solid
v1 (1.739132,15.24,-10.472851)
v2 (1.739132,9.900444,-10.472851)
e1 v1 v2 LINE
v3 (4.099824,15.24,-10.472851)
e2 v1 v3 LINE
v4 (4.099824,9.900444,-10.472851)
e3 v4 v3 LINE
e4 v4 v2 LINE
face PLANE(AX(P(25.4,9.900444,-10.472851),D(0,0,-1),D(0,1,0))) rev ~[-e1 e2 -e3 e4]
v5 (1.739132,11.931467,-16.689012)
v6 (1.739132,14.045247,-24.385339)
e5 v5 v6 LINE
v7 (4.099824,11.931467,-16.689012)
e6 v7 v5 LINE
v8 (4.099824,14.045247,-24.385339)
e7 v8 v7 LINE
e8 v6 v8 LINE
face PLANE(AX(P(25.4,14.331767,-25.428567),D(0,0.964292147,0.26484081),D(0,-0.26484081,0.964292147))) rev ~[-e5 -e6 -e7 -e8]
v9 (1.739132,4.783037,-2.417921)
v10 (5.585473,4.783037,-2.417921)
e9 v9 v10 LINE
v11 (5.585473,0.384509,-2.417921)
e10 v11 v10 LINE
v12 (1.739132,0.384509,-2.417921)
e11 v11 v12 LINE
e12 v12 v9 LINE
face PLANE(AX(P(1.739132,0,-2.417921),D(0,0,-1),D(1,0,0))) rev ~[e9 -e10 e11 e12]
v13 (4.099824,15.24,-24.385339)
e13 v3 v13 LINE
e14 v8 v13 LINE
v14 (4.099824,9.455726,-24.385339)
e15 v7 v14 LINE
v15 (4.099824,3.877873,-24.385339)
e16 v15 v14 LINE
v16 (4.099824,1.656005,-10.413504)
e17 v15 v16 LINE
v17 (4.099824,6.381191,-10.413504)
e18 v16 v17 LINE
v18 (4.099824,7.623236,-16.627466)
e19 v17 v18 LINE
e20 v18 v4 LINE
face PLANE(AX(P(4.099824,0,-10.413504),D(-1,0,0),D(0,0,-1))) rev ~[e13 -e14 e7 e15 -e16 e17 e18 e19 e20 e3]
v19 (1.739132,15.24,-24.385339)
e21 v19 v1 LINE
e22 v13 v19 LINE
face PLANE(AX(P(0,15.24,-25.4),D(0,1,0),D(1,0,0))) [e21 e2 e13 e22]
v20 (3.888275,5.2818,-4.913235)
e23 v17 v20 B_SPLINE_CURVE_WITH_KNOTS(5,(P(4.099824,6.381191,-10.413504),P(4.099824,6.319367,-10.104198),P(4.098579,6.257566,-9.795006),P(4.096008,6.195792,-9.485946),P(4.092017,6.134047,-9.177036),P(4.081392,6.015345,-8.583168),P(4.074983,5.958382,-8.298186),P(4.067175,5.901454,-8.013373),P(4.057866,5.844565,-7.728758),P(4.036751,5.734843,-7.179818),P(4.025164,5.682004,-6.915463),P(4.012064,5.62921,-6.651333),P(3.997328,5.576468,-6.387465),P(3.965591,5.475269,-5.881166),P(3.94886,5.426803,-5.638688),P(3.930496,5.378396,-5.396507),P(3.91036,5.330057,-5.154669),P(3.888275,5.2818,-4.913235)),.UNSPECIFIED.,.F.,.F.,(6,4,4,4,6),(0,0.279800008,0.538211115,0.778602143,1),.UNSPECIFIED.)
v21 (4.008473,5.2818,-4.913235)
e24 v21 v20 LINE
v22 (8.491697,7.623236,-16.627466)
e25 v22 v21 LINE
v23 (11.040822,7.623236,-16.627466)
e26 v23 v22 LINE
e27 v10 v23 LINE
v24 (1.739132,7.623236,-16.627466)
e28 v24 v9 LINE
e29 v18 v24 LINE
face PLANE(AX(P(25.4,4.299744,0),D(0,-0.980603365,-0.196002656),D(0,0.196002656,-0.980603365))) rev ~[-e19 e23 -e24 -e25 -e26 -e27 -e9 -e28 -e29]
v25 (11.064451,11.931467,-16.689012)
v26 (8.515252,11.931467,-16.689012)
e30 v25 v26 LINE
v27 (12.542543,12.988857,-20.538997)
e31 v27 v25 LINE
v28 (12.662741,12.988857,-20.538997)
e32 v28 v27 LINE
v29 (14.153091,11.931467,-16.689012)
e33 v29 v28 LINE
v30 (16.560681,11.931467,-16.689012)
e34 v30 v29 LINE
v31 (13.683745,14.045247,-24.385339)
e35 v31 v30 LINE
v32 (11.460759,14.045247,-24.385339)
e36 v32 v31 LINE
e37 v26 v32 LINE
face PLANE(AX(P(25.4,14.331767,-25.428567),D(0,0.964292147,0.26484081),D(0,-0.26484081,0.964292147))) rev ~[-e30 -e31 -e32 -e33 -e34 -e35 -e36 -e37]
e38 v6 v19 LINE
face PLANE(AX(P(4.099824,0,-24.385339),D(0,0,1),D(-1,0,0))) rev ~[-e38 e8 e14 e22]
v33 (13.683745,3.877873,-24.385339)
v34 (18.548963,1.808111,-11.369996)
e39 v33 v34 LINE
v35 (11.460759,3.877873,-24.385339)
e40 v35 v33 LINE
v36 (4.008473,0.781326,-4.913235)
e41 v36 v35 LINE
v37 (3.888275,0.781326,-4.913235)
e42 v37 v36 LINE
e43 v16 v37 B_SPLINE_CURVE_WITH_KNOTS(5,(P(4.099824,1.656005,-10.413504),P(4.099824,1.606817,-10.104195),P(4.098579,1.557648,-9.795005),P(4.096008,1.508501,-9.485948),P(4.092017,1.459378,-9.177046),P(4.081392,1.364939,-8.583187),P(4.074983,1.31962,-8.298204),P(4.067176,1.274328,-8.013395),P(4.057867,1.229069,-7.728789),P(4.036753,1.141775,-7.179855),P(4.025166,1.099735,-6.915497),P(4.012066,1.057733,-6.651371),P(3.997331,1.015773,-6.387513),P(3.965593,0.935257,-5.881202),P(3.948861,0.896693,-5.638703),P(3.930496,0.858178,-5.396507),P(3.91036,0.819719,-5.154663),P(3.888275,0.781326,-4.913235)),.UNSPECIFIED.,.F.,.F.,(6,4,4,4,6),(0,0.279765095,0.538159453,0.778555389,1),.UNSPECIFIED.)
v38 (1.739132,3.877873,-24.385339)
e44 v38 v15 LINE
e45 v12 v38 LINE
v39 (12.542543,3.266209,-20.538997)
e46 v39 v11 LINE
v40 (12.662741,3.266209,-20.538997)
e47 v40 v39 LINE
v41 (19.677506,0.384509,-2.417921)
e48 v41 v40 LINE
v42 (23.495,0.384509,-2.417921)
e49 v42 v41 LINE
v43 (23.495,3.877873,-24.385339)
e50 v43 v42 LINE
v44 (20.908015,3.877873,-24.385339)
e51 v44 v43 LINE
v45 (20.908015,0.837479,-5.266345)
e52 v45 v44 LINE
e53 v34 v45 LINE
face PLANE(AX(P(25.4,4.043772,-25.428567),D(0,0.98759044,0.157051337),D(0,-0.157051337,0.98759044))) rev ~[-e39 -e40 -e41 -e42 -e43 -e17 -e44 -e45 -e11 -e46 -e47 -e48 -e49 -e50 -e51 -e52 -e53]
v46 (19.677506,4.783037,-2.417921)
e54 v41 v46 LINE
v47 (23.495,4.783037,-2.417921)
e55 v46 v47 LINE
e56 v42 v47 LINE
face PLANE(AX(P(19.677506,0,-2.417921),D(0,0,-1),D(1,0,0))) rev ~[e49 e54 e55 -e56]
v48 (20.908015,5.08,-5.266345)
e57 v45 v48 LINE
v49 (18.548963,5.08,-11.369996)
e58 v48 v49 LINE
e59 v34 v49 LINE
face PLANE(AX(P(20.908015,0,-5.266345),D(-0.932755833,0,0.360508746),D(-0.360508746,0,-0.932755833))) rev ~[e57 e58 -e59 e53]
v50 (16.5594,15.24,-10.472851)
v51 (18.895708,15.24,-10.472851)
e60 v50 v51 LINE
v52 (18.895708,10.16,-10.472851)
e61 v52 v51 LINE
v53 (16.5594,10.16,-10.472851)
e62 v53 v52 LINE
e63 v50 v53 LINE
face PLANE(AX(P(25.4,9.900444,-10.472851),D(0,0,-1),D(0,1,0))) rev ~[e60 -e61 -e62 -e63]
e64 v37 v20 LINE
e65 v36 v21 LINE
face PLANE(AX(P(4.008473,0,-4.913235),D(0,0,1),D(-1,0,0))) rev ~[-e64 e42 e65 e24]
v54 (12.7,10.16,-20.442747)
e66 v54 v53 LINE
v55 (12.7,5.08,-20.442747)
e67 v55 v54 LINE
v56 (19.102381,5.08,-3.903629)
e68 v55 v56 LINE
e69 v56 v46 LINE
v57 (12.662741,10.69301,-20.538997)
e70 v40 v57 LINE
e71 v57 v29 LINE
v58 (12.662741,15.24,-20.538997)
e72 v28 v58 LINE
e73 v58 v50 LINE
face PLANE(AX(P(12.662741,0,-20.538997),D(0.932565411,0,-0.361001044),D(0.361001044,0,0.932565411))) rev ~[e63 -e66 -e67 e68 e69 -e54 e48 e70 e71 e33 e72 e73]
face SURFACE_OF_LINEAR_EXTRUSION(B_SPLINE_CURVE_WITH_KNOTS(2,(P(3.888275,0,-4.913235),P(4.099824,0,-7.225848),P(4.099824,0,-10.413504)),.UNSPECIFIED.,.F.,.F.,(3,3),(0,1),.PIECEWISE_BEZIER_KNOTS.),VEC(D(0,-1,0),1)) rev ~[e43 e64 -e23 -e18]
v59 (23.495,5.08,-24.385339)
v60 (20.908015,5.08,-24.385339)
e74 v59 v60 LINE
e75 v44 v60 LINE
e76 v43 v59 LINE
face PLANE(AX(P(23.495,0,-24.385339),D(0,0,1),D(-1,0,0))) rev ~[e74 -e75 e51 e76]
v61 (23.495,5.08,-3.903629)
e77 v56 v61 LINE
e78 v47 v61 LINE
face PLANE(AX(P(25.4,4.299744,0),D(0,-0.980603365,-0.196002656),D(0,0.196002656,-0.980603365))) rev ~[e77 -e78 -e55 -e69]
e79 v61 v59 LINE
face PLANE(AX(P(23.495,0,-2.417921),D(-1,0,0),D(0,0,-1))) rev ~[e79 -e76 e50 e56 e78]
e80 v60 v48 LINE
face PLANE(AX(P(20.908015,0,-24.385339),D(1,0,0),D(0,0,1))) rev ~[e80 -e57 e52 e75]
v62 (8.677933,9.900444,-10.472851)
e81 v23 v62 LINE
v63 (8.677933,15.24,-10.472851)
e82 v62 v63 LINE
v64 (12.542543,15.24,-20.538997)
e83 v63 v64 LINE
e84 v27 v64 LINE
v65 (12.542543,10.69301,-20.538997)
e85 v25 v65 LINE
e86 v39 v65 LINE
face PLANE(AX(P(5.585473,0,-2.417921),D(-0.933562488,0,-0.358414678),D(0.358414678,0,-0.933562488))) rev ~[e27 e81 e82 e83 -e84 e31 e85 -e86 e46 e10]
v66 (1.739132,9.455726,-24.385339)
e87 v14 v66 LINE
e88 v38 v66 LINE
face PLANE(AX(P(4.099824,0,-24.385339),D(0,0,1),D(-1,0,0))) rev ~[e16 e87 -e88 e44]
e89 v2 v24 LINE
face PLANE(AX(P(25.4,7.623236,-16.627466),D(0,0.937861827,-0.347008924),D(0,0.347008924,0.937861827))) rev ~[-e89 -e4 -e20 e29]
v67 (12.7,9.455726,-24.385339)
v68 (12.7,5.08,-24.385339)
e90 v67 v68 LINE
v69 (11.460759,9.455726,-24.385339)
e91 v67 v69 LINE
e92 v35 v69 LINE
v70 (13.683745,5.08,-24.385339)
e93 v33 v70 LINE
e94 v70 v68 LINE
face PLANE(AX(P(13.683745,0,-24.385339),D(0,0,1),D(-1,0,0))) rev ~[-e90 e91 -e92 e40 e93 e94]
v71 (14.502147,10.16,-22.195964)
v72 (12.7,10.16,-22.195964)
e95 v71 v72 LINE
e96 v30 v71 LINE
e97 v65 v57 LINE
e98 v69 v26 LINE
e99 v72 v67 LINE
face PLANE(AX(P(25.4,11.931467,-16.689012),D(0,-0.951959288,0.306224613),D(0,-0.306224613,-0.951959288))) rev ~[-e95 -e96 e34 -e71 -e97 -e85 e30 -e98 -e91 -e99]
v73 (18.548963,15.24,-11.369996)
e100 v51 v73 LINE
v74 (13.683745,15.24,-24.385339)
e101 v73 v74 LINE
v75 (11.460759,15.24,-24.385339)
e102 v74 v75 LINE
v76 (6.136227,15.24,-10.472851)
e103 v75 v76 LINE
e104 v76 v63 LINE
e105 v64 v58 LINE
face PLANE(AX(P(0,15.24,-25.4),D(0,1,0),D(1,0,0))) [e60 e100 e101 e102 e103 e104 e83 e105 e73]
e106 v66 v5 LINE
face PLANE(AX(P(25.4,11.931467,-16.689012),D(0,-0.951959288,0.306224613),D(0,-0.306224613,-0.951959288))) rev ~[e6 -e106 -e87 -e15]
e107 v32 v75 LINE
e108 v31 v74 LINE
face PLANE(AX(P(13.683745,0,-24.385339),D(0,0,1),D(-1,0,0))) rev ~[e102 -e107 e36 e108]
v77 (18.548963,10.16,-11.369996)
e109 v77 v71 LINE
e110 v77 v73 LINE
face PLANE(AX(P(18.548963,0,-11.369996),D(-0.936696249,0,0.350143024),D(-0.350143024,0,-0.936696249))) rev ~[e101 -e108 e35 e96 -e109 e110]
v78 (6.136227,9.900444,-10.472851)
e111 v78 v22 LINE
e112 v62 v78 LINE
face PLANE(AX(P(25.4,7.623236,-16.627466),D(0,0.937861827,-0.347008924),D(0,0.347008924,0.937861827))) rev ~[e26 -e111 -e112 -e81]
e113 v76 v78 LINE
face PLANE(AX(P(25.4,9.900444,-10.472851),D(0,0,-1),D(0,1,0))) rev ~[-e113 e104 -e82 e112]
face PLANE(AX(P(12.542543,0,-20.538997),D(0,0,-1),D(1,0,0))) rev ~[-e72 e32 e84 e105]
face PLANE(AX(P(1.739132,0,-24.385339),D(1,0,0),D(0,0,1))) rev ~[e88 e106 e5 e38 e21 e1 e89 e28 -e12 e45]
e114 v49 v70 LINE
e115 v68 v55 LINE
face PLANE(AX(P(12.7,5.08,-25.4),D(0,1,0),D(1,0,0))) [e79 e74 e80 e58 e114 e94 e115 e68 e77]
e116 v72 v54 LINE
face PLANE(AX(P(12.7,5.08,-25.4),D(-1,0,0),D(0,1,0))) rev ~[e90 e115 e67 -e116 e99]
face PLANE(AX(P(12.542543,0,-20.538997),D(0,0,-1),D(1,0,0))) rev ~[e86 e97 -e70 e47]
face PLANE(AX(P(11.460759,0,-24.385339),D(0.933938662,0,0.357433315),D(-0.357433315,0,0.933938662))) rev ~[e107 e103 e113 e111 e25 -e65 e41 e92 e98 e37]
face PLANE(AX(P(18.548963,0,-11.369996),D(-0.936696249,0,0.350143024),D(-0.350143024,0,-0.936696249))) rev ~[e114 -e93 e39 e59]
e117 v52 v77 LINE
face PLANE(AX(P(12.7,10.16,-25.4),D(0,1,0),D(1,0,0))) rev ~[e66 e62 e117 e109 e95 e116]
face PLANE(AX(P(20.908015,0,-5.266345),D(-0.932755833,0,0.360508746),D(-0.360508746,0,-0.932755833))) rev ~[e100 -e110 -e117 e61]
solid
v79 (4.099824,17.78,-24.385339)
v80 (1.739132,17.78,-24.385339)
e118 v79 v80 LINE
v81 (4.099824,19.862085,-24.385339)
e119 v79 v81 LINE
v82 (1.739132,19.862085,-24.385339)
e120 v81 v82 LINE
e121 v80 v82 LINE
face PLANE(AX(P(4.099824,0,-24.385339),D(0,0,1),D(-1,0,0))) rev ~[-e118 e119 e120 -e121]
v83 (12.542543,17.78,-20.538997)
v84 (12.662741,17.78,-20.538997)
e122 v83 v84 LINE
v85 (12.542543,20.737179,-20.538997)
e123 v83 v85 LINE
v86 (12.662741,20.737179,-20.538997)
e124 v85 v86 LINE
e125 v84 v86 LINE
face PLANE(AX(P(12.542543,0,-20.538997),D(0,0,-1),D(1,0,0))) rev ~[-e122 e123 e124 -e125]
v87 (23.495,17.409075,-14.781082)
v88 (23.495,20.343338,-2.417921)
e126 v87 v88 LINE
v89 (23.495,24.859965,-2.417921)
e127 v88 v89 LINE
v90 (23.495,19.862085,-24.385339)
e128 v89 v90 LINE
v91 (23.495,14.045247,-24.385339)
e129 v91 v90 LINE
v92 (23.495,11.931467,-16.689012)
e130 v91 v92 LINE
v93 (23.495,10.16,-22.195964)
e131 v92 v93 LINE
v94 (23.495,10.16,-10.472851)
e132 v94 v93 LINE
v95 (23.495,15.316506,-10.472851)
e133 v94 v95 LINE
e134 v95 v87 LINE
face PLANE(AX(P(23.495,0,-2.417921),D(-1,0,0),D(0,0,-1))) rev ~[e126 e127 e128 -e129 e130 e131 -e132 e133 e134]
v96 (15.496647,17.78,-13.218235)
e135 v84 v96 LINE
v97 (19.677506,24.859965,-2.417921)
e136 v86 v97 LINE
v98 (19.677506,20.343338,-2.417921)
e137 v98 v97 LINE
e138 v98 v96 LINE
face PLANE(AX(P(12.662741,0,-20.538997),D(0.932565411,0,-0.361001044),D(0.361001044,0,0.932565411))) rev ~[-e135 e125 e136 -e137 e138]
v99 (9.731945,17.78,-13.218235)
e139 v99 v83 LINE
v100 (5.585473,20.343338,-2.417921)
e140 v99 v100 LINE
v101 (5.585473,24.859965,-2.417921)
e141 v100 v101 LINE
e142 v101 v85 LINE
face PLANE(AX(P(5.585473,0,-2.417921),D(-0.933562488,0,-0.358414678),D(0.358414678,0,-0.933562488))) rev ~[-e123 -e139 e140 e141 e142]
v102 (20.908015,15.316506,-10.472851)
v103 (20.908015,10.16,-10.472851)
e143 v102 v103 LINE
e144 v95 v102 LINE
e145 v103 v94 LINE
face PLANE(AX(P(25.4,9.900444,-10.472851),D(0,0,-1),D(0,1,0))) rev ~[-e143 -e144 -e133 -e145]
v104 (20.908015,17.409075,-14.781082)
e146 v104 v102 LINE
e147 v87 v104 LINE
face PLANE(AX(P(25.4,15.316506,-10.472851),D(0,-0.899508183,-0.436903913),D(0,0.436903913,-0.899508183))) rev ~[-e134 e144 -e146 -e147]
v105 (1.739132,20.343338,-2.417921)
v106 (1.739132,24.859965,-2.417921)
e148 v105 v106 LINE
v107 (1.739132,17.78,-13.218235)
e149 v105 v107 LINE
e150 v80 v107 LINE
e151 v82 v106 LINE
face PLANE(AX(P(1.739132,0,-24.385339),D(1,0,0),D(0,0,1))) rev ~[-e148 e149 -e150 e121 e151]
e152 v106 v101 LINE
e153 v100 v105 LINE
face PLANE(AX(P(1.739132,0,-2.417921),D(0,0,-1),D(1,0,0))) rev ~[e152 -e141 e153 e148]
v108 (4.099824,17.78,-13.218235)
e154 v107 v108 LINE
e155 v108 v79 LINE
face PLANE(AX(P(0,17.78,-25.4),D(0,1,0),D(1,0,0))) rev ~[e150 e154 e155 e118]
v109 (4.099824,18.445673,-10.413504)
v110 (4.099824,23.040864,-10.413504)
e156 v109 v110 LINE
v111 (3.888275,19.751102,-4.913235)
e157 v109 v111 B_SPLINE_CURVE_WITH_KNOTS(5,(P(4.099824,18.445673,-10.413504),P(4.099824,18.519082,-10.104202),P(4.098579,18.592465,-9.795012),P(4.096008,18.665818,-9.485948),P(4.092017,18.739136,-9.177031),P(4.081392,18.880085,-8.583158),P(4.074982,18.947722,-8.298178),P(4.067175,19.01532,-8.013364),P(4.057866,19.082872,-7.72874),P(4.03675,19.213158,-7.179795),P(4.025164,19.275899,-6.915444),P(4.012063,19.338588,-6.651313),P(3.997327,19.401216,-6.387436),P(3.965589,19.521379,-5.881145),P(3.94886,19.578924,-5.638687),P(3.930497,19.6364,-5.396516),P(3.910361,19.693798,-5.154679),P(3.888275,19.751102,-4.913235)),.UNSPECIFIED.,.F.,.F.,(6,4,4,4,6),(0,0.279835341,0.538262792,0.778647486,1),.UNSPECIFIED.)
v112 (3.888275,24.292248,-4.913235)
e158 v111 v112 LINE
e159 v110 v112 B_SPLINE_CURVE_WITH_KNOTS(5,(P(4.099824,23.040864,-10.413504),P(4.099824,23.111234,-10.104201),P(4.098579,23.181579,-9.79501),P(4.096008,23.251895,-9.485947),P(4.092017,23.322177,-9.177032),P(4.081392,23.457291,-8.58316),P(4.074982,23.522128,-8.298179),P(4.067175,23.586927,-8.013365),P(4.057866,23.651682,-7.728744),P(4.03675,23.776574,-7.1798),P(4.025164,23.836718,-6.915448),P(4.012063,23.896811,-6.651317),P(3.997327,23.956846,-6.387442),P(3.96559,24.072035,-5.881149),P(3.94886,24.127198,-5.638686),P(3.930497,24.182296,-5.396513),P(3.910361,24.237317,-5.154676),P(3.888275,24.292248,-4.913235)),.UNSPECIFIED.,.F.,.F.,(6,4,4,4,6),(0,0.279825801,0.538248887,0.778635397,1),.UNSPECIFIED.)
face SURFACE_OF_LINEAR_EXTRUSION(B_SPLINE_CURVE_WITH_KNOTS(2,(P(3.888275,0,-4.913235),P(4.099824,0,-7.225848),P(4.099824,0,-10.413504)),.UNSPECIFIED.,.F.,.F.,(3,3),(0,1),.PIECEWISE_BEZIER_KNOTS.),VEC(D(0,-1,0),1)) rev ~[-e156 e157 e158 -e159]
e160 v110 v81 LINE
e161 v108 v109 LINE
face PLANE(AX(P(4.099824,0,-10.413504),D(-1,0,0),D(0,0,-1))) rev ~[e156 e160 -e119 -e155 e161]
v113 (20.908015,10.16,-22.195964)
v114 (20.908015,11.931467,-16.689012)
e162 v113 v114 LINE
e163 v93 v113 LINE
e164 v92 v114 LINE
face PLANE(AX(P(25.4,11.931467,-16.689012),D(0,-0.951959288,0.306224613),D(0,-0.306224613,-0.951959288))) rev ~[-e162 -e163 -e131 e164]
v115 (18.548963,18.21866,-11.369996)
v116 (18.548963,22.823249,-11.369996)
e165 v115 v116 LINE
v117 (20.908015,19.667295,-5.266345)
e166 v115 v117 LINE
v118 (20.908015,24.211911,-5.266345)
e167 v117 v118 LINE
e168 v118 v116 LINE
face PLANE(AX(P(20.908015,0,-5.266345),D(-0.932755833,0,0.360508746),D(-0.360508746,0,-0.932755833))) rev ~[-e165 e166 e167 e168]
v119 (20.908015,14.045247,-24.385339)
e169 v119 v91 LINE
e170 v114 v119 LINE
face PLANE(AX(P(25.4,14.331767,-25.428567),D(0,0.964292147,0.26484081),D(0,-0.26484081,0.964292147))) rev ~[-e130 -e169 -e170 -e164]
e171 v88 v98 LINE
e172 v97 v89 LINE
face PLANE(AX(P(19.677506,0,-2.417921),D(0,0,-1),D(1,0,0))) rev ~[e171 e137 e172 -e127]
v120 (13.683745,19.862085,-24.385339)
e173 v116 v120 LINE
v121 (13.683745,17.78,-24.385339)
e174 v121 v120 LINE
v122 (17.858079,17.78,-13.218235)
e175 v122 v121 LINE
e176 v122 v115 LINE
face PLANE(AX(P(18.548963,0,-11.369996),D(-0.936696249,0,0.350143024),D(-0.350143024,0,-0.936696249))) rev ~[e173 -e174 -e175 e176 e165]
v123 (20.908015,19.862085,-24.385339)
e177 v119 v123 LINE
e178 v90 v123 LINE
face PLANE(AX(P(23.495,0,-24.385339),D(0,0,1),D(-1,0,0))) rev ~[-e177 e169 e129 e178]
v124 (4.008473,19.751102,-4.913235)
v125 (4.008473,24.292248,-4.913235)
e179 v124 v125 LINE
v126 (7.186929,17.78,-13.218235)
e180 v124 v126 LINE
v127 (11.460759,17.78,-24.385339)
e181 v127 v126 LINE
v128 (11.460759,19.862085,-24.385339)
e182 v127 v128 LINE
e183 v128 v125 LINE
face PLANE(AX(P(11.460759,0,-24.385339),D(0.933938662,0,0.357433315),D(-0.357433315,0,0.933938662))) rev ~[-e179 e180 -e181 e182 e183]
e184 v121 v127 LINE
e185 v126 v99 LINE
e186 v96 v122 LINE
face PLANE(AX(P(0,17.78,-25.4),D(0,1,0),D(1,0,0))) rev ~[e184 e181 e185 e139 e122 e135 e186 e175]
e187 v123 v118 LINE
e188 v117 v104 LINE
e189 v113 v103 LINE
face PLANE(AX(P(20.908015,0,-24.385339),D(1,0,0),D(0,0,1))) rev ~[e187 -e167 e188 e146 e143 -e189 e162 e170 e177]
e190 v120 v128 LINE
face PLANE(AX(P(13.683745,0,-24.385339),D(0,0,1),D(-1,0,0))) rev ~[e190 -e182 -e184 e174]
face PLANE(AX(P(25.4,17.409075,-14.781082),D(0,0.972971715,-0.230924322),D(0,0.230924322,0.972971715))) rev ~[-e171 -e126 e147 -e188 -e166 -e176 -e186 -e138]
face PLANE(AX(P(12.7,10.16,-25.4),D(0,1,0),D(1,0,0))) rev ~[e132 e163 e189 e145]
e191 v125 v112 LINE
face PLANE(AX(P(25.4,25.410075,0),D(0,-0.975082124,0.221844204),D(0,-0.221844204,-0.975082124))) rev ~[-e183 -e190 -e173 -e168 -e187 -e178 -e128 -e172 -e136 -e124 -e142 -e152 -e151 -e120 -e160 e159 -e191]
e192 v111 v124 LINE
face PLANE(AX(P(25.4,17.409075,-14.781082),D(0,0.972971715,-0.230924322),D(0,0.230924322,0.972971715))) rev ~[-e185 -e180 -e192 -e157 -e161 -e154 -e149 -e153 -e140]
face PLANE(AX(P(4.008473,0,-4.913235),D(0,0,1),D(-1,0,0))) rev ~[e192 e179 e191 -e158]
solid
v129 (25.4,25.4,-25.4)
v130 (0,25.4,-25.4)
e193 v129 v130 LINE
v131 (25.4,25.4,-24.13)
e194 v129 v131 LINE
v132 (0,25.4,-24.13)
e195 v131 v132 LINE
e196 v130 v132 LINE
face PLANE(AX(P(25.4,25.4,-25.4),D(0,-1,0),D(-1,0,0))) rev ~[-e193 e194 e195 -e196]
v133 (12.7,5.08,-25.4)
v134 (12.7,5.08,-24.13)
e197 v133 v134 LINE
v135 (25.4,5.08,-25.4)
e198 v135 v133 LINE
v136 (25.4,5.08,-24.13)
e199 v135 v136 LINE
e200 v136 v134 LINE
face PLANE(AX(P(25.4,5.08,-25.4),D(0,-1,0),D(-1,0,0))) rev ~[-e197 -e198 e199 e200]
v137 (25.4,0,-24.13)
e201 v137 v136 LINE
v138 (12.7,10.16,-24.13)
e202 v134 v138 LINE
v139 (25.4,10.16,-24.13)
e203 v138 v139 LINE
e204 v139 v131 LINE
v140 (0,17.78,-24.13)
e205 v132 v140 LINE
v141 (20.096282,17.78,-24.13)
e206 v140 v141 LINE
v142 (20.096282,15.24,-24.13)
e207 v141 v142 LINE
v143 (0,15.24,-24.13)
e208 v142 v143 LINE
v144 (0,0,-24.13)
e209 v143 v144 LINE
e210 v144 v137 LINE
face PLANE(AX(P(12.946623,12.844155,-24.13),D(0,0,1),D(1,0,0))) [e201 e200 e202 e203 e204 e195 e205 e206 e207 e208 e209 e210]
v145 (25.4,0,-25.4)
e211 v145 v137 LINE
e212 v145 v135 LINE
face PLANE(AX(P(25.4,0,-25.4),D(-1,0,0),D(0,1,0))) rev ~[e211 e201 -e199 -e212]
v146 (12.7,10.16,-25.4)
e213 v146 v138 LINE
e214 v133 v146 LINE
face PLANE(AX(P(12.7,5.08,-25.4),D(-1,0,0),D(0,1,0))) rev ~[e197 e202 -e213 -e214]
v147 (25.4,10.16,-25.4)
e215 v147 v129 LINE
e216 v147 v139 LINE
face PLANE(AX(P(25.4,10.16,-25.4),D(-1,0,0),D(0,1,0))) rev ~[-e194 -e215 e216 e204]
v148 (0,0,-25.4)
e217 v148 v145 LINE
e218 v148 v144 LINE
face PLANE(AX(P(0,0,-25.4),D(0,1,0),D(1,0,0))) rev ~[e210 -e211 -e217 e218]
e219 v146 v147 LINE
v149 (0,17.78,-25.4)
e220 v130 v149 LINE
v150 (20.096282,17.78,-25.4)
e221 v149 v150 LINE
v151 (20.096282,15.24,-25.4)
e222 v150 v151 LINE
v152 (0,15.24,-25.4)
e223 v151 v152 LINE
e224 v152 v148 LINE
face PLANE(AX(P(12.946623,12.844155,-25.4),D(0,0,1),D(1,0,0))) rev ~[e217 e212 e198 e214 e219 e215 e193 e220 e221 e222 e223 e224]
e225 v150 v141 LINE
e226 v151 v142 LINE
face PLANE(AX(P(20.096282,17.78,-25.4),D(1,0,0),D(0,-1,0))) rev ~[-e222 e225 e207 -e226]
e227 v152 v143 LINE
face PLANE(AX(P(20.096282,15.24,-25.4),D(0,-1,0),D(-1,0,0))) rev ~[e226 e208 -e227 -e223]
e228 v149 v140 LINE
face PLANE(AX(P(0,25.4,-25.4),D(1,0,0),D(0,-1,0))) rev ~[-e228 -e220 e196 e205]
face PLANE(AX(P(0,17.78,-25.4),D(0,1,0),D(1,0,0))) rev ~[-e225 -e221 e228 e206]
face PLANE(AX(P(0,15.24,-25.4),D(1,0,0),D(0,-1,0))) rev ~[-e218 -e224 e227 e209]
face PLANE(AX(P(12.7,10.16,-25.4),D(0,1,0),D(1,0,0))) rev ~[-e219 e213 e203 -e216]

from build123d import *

# Parameters (mm, degrees)
F0_W      = 25.4
F0_H      = 25.4
F1_DEPTH  = 25.4
F4_DEPTH  = 38.1
F6_DEPTH  = 25.4
F8_W      = 20.0962815434
F8_H      = 2.54
F8_W_2    = 12.7
F8_H_2    = 5.08
F9_DEPTH  = 25.4
F10_DEPTH = 1.27


with BuildPart() as f1:
    # F0 (on Right) → F1 (new body)
    with BuildSketch(Plane.YZ):
        with Locations((12.7, -12.7)):
            Rectangle(F0_W, F0_H)
    extrude(amount=F1_DEPTH)

    # F3 (on offset) → F4 (cut)
    with BuildSketch(Plane.YZ.offset(25.4)):
        Polygon((20.91720514, 0), (4.2997440323, 0), (7.6232361607, -16.6274663061), (9.9004441872, -10.4728508741), (15.3165059164, -10.4728508741), (17.4090750515, -14.781082049), align=None)
        Polygon((11.93146687, -16.6890118271), (9.1201418885, -25.4285670817), (14.3317673355, -25.4285670817), align=None)
        Polygon((25.4100747406, -25.4285670817), (25.4100747406, 0), (19.62473616, -25.4285670817), align=None)
        Polygon((4.0437718923, -25.4285670817), (0, 0), (0, -25.4285670817), align=None)
    extrude(amount=-F4_DEPTH, mode=Mode.SUBTRACT)

    # F5 (on Front) → F6 (cut)
    with BuildSketch(Plane.XZ):
        Polygon((5.5881491862, 0), (0, 0), (0, -25.4), (21.59, -25.4), (25.4, -25.4), (25.4, 0), (20.7322615659, 0), align=None)
        Polygon((1.7391315953, -24.3853386492), (1.7391315953, -19.2400895268), (1.7391315953, -2.4179214688), (5.5854729707, -2.4179214688), (12.5425429335, -20.5389972737), (12.6627411015, -20.5389972737), (19.6775061849, -2.4179214688), (23.495, -2.4179214688), (23.495, -24.3853386492), (20.9419909121, -24.3853386492), (20.9080148488, -24.3853386492), (13.6837447062, -24.3853386492), (13.5185520575, -24.3853386492), (11.4607594217, -24.3853386492), (11.1073768078, -24.3853386492), (4.0998236145, -24.3853386492), (3.7612516899, -24.3853386492), (1.7593456432, -24.3853386492), align=None, mode=Mode.SUBTRACT)
        Polygon((12.5522324815, -20.2039610595), (5.7631577365, -2.2304123268), (19.6024235338, -2.2304123268), align=None, mode=Mode.SUBTRACT)
        Polygon((19.6024235338, -2.2304123268), (5.7631577365, -2.2304123268), (12.5522324815, -20.2039610595), align=None)
        with BuildLine():
            Line((4.0998236145, -10.413503603), (4.0998236145, -24.3853386492))
            Line((4.0998236145, -24.3853386492), (11.1073768078, -24.3853386492))
            Line((11.1073768078, -24.3853386492), (11.4607594217, -24.3853386492))
            Line((11.4607594217, -24.3853386492), (4.0084730068, -4.9132354361))
            Line((4.0084730068, -4.9132354361), (3.8882748388, -4.9132354361))
            add(Edge.make_bspline(
                [(3.8882748388, -4.9132354361), (4.0998236145, -7.2258481881), (4.0998236145, -10.413503603)],
                knots=[0, 0, 0, 1, 1, 1], degree=2))
        make_face()
        Polygon((18.5489627532, -11.3699958127), (13.6837447062, -24.3853386492), (20.9080148488, -24.3853386492), (20.9080148488, -5.2663447092), align=None)
    extrude(amount=-F6_DEPTH, mode=Mode.SUBTRACT)

    # F8 (on offset) → F9 (cut)
    with BuildSketch(Plane.XY.offset(-25.4)):
        with Locations((10.0481407717, 16.51)):
            Rectangle(F8_W, F8_H)
        with Locations((19.05, 7.62)):
            Rectangle(F8_W_2, F8_H_2)
    extrude(amount=F9_DEPTH, mode=Mode.SUBTRACT)


with BuildPart() as f10:
    # F8 (on offset) → F10 (new body)
    with BuildSketch(Plane.XY.offset(-25.4)):
        Polygon((0, 15.24), (0, 0), (25.4, 0), (25.4, 5.08), (12.7, 5.08), (12.7, 10.16), (25.4, 10.16), (25.4, 25.4), (0.9083829937, 25.4), (0, 25.4), (0, 17.78), (20.0962815434, 17.78), (20.0962815434, 15.24), align=None)
    extrude(amount=F10_DEPTH)


solid = Compound([f1.part, f10.part])
